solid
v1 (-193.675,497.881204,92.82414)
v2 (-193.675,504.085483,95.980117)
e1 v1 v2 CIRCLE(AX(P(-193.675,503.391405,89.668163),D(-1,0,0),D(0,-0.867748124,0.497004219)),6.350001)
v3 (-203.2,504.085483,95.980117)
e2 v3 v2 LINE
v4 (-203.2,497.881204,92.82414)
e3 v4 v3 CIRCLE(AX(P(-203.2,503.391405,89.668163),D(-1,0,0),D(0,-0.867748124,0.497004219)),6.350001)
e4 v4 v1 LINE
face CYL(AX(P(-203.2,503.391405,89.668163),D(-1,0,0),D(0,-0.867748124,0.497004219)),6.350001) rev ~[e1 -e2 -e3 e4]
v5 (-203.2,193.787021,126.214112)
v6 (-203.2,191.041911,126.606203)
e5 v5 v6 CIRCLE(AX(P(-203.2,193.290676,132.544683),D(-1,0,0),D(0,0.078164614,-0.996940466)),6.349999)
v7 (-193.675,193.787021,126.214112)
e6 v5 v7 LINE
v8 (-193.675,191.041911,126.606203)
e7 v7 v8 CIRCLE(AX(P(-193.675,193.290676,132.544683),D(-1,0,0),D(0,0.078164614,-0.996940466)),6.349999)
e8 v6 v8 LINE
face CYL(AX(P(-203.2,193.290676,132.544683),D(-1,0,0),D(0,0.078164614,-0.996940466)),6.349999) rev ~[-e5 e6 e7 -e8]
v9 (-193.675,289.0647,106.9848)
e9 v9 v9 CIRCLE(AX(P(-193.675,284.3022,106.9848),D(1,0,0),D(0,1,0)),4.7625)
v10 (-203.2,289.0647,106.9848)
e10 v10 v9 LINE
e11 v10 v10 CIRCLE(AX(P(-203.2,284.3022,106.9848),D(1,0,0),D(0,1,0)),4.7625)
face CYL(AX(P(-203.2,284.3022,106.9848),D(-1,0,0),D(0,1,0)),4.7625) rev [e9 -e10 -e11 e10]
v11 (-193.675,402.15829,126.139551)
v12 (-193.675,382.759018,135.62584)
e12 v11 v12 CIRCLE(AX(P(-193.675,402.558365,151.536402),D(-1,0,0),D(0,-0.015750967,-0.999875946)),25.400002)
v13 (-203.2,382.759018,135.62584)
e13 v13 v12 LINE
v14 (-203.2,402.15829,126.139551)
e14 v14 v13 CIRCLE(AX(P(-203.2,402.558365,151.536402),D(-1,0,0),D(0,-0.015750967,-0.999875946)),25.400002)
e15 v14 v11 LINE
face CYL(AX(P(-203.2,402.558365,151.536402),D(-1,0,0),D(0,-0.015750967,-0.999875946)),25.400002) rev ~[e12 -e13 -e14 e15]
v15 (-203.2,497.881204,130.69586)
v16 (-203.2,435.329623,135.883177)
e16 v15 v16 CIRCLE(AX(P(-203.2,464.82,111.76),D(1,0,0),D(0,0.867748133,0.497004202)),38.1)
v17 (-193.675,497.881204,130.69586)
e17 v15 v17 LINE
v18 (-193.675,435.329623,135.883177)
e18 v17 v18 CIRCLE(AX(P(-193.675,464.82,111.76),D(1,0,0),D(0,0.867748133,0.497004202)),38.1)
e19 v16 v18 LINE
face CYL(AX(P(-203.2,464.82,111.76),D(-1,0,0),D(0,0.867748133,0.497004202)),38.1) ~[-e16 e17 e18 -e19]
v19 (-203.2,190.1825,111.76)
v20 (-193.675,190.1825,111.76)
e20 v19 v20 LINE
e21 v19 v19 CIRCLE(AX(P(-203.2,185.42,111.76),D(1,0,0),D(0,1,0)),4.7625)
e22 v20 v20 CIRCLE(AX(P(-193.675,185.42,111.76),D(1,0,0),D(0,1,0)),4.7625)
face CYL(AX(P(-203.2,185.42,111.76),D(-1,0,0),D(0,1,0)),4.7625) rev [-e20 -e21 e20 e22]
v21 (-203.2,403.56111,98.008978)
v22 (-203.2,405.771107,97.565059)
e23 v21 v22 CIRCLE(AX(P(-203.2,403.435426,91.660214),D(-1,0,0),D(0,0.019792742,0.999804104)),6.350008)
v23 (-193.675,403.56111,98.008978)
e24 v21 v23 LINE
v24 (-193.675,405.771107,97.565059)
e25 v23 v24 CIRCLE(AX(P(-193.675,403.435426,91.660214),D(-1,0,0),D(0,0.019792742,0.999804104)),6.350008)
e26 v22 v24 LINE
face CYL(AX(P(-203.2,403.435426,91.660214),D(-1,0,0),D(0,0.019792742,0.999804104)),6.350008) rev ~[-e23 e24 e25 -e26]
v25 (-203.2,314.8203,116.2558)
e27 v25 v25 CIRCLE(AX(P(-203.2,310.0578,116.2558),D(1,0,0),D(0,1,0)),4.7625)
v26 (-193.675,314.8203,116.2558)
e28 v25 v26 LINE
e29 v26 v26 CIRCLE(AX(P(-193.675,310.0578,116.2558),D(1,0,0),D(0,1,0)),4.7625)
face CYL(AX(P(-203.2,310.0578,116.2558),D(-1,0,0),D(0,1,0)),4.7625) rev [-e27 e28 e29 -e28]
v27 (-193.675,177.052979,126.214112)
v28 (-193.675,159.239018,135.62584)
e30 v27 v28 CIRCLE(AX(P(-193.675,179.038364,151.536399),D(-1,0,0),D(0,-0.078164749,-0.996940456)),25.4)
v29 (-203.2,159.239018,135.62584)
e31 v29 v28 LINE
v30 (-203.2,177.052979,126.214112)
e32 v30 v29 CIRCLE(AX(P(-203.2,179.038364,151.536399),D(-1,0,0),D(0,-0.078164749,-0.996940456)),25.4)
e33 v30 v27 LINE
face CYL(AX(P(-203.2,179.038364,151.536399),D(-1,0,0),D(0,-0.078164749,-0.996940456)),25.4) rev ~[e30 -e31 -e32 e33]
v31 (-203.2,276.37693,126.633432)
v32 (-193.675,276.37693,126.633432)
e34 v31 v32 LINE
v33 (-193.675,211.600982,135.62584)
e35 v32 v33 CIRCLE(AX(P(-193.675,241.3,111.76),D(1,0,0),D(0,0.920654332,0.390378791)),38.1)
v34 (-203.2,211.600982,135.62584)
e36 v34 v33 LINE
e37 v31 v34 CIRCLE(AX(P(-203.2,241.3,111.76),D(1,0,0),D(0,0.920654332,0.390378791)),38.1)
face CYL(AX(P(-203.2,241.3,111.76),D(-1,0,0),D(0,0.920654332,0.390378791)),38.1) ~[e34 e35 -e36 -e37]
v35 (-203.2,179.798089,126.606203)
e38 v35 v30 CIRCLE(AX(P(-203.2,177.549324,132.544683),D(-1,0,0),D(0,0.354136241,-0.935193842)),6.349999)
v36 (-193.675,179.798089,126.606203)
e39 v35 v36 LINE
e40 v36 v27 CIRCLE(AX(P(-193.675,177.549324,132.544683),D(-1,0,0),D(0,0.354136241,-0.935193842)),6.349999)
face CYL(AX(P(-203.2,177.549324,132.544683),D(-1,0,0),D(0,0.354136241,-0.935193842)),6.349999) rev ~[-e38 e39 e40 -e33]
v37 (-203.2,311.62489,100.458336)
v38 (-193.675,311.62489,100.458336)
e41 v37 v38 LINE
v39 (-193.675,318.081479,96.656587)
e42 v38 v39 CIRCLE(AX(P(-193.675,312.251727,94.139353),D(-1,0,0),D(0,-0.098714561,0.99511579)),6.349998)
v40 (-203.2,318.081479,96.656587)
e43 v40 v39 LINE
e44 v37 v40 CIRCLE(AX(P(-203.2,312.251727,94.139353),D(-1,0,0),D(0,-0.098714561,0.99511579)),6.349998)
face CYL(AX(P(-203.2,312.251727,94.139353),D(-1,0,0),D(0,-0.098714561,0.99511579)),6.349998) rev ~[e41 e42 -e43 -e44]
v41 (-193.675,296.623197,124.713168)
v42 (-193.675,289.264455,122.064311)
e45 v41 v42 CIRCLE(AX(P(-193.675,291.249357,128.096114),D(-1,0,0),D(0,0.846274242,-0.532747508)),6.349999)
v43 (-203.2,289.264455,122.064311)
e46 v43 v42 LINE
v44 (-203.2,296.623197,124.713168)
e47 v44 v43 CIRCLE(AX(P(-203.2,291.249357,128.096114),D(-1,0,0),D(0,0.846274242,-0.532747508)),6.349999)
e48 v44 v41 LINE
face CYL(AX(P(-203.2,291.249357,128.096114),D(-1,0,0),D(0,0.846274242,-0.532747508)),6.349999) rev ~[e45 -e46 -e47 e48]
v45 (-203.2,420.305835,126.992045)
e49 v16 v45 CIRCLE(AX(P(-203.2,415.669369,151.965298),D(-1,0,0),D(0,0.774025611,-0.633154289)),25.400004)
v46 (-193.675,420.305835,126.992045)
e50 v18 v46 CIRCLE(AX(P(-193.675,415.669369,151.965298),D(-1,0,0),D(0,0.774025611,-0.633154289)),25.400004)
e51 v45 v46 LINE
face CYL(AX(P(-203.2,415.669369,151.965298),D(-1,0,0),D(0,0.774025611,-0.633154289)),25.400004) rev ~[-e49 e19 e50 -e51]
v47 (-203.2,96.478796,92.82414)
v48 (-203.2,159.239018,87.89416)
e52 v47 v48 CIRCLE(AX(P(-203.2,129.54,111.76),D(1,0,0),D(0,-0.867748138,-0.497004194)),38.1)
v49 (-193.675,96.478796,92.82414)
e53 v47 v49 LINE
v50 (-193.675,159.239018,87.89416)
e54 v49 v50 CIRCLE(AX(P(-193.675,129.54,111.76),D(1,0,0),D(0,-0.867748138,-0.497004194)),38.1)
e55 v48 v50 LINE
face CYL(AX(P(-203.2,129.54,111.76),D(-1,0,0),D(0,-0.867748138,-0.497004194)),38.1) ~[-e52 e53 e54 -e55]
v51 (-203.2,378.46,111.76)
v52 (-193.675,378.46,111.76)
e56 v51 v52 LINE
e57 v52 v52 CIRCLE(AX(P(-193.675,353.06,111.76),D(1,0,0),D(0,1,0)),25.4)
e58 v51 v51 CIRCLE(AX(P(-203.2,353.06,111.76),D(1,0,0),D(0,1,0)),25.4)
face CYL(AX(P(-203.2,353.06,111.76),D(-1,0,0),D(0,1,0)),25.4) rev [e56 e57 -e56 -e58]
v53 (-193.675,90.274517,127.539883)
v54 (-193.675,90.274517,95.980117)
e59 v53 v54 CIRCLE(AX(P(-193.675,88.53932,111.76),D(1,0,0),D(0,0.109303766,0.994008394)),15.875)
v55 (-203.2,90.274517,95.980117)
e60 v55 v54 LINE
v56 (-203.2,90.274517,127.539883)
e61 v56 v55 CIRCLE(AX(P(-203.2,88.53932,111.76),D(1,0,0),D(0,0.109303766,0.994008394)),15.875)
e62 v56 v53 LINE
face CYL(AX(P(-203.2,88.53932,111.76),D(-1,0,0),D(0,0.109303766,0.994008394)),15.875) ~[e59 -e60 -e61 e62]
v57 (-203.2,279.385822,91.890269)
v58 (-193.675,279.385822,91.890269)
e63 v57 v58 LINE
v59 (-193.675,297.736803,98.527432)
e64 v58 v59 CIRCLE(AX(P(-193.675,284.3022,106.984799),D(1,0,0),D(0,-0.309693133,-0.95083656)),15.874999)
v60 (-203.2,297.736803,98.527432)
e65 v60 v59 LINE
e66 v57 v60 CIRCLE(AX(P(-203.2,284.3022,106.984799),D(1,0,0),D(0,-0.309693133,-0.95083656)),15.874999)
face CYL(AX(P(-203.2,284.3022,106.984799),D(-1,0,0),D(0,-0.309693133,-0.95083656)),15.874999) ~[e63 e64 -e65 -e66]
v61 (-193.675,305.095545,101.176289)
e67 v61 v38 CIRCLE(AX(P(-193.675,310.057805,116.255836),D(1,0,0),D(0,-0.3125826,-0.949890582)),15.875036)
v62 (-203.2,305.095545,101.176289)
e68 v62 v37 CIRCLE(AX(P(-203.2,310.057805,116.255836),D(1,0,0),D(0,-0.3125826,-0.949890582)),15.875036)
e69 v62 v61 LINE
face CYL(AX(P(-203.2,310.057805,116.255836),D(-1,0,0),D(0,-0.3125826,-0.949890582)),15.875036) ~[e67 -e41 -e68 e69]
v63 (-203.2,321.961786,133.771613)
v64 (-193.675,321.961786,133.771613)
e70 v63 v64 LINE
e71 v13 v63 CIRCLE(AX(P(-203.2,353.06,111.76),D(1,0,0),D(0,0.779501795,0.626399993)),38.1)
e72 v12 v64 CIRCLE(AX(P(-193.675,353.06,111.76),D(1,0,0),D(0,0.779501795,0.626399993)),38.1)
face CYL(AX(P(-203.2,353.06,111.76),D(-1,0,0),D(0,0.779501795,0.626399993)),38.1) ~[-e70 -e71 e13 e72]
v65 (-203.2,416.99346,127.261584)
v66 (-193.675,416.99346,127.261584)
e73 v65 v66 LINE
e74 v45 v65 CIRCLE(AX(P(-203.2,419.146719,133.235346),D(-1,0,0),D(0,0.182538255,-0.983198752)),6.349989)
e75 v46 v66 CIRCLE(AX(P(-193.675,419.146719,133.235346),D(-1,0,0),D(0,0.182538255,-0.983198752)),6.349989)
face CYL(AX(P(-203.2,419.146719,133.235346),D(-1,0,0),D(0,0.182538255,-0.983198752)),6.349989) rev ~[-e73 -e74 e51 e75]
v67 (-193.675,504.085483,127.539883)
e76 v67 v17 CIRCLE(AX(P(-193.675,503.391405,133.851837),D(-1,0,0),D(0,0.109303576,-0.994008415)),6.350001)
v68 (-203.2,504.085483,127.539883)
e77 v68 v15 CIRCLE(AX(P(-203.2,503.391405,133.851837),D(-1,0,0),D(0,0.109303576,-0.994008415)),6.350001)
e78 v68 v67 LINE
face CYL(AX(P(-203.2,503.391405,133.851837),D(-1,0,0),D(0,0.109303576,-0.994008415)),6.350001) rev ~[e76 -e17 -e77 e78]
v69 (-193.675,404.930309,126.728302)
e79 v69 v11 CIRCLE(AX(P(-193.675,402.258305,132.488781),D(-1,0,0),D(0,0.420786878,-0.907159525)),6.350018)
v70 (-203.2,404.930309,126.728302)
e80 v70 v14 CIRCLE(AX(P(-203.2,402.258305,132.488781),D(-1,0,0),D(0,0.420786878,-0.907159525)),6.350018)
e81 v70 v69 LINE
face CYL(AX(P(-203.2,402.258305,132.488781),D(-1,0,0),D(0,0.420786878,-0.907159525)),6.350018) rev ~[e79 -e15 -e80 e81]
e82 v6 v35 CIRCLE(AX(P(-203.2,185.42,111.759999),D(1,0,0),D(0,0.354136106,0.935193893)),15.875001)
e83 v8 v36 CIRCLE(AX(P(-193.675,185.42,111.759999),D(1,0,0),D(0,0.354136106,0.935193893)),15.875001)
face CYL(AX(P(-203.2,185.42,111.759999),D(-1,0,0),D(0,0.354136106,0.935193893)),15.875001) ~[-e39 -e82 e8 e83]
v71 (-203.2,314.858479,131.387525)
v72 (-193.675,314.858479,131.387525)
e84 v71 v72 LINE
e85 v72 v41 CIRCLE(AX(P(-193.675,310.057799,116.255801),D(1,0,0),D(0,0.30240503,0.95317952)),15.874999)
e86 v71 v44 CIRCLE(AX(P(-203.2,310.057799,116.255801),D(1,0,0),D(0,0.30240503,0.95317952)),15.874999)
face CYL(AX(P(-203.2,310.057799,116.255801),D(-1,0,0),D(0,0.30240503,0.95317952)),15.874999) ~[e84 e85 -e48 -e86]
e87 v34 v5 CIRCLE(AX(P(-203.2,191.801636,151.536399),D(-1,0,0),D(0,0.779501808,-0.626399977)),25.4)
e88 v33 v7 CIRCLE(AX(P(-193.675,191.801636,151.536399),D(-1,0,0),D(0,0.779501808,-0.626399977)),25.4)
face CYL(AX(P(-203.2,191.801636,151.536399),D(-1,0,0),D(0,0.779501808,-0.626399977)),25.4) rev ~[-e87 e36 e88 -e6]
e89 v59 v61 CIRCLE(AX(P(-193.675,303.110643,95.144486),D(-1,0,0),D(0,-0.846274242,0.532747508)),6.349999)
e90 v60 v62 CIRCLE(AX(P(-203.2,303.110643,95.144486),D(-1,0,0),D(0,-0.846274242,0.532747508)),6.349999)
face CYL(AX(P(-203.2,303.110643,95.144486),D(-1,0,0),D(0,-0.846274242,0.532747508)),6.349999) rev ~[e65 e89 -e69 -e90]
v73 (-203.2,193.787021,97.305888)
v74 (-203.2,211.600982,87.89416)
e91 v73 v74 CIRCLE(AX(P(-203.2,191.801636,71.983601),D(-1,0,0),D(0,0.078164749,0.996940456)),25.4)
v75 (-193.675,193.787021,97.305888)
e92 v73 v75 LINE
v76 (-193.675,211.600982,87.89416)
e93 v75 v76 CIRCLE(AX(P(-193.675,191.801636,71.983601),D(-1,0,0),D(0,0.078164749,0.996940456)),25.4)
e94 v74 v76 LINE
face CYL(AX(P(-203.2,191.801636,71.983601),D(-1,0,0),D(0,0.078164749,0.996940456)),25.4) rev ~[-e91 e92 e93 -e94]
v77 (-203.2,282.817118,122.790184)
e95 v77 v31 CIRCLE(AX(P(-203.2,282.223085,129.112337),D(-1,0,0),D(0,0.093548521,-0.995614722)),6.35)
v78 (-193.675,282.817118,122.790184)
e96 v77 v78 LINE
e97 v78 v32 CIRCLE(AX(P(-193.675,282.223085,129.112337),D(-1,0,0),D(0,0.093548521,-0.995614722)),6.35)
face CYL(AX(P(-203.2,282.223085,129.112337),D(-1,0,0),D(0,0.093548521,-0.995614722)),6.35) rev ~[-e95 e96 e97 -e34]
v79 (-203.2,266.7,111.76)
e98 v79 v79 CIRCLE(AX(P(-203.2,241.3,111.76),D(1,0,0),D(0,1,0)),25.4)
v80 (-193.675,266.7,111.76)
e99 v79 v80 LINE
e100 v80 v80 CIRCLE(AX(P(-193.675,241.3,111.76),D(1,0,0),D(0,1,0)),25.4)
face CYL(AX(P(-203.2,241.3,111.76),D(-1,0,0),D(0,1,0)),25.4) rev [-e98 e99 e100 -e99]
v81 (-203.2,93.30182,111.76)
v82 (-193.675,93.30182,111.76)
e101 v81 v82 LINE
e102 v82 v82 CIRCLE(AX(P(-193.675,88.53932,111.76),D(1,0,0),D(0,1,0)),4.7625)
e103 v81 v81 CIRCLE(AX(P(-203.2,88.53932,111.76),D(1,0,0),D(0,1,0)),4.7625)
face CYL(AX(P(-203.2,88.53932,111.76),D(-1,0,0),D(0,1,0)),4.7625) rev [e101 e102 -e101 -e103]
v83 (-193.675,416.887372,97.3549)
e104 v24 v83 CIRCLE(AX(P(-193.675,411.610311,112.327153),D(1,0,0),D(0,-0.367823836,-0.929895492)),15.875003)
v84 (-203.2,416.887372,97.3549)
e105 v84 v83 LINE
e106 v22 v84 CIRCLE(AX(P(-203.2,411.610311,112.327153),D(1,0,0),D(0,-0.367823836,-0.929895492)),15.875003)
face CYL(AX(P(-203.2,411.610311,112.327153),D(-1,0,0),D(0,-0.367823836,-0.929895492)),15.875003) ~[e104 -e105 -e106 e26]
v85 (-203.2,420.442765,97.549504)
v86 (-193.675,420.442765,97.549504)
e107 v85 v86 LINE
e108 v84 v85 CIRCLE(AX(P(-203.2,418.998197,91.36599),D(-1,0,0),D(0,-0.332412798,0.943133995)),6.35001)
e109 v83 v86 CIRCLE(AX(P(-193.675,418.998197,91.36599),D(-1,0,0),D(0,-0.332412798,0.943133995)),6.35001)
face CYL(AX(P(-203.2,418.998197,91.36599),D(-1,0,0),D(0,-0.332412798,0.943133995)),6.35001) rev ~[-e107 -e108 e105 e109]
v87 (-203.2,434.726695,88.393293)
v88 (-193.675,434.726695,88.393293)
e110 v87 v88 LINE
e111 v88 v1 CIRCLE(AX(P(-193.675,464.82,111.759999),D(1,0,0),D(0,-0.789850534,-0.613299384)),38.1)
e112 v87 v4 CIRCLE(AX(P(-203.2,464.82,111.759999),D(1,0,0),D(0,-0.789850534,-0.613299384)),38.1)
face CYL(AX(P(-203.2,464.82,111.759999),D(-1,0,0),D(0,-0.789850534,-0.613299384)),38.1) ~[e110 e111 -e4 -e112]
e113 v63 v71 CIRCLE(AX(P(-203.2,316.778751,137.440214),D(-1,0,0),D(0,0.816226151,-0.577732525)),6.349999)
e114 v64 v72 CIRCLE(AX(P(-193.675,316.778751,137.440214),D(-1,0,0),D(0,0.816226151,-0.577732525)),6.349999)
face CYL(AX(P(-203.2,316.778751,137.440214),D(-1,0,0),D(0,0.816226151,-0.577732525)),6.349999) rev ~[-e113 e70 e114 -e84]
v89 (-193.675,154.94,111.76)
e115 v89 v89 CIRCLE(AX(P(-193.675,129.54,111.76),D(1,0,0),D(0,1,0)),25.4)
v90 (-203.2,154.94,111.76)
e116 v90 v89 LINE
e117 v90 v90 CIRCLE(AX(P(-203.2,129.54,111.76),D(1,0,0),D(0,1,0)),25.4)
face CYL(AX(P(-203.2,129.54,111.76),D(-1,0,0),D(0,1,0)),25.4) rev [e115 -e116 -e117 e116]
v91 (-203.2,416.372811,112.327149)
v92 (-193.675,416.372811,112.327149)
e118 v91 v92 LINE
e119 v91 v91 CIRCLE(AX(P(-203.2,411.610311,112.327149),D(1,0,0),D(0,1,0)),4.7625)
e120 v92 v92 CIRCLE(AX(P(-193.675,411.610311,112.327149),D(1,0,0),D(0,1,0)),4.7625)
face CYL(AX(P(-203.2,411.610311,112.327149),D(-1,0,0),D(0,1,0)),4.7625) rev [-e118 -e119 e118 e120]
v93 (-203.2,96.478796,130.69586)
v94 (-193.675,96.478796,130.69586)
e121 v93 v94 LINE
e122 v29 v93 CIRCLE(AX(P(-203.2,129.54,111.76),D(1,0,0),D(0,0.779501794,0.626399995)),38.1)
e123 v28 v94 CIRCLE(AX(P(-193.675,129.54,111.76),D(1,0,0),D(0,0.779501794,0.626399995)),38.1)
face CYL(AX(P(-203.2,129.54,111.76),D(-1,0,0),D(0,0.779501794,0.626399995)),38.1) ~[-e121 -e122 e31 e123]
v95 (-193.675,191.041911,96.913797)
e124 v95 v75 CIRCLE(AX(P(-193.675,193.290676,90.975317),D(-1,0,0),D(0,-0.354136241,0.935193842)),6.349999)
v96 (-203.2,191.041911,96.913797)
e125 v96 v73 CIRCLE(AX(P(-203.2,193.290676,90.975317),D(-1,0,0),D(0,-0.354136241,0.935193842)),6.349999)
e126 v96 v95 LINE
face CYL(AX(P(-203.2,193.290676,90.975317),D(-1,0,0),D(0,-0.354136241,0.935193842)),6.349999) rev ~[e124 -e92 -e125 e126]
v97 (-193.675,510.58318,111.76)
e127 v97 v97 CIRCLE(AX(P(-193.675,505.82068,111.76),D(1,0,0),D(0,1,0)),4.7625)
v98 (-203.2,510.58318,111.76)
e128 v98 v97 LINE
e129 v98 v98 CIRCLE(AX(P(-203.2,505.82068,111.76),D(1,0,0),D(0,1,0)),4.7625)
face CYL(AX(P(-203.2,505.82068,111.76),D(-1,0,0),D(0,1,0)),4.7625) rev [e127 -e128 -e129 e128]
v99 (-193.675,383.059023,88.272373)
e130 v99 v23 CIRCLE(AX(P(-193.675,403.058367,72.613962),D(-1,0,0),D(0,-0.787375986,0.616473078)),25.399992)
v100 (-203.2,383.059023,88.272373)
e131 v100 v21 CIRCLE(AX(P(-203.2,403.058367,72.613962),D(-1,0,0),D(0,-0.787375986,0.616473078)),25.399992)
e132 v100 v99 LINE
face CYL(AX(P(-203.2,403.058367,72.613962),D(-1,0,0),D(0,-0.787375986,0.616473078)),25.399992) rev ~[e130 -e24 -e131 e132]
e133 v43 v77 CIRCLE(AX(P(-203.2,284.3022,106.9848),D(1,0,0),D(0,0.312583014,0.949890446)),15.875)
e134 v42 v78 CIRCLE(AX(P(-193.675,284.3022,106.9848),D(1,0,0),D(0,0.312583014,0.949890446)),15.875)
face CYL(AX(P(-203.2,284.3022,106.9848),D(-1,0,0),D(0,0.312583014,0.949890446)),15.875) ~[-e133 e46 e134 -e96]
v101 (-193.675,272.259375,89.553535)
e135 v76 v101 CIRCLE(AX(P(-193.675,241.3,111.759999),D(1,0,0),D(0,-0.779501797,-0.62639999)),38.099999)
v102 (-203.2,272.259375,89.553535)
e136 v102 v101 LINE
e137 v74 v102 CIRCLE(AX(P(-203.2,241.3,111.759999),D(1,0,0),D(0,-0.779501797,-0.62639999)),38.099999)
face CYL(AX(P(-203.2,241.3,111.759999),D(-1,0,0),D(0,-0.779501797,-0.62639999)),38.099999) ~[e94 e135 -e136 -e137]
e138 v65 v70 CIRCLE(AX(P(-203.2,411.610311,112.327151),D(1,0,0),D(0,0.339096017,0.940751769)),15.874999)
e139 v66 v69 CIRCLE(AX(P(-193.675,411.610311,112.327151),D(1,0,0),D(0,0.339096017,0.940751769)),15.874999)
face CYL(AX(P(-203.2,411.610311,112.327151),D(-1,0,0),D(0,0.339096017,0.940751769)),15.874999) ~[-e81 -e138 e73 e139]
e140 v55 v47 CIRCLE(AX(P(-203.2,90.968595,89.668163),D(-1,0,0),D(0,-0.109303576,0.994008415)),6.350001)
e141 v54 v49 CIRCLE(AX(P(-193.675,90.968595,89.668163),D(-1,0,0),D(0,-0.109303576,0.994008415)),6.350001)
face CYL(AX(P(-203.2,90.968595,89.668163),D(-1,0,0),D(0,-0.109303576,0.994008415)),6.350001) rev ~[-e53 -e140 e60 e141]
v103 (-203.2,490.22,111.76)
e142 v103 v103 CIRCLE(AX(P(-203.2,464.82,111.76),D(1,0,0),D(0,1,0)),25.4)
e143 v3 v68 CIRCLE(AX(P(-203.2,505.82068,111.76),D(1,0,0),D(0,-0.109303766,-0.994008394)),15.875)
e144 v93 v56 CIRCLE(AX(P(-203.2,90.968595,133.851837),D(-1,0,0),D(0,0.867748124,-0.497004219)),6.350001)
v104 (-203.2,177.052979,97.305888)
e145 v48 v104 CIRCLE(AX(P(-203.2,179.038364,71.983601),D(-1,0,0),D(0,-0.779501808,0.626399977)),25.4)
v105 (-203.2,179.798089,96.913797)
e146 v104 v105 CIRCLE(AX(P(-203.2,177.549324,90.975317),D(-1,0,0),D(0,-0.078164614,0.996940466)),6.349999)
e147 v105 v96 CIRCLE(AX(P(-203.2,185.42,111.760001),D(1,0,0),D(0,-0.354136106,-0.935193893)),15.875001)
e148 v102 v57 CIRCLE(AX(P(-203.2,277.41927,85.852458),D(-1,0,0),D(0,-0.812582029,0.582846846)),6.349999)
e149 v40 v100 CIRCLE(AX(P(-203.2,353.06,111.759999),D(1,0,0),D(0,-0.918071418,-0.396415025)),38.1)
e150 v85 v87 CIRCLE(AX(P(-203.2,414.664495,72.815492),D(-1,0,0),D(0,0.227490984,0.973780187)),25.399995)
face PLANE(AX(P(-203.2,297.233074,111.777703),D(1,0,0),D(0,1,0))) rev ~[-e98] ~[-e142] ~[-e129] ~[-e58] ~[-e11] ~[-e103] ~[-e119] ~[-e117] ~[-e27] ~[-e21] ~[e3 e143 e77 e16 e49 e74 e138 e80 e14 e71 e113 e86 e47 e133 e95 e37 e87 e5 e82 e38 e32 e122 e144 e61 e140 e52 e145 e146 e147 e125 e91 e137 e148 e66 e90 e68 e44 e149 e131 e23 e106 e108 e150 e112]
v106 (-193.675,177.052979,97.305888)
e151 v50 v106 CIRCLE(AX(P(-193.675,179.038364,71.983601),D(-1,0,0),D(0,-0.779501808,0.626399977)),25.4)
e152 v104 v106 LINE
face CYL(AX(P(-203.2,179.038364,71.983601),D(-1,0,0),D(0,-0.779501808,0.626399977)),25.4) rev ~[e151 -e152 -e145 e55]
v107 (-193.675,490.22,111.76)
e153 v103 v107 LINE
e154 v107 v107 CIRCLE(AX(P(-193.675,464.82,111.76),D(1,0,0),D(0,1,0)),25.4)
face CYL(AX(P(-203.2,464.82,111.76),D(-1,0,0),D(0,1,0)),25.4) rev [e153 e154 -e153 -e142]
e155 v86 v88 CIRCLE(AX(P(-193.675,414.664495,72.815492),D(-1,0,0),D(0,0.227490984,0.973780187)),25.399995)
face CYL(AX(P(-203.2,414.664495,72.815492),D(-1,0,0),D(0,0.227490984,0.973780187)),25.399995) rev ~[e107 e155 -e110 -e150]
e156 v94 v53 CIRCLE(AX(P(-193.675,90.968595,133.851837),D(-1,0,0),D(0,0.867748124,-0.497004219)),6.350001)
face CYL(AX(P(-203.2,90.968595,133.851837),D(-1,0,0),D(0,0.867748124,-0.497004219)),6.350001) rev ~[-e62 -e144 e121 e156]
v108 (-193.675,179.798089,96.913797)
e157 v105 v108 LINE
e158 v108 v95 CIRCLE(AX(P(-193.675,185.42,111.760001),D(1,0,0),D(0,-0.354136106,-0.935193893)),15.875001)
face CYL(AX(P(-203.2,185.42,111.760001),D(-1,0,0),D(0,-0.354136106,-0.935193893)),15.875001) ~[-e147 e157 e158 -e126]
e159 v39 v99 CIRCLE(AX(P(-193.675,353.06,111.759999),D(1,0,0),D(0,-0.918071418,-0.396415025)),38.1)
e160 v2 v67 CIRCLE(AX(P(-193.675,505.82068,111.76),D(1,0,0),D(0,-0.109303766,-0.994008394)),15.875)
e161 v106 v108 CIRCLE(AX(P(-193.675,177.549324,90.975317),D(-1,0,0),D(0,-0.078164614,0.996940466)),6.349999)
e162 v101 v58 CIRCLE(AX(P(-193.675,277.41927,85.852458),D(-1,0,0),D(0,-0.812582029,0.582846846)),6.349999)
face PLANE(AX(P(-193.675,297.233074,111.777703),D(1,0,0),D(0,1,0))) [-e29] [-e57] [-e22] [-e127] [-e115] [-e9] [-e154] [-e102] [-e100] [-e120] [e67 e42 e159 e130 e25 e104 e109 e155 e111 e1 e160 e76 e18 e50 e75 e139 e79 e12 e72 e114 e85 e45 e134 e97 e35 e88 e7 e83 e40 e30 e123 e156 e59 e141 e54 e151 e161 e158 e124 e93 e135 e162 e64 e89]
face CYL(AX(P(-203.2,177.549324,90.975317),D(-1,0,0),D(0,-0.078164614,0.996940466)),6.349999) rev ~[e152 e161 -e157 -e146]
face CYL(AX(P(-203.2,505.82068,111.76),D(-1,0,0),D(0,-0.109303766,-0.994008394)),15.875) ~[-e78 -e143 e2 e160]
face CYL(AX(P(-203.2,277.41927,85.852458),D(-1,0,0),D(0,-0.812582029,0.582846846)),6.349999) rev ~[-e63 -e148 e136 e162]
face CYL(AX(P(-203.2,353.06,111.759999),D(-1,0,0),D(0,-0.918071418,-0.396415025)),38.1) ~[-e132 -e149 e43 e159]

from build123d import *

# Parameters (mm, degrees)
F3_R     = 4.7625
F3_R_2   = 31.75
F3_R_3   = 25.4
F8_DEPTH = 9.525


with BuildPart() as f8:
    # F3 (on offset) → F8 (new body)
    with BuildSketch(Plane.YZ.offset(-203.2)):
        with BuildLine():
            ThreePointArc((504.085483, 127.539883), (500.512376, 128.192005), (497.881204, 130.69586))
            ThreePointArc((497.881204, 130.69586), (467.968772, 149.729662), (435.329623, 135.883177))
            ThreePointArc((435.329623, 135.883177), (428.605586, 130.10633), (420.305835, 126.992045))
            ThreePointArc((420.305835, 126.992045), (418.631702, 126.906277), (416.99346, 127.261584))
            ThreePointArc((416.99346, 127.261584), (410.909202, 128.18666), (404.930309, 126.728302))
            ThreePointArc((404.930309, 126.728302), (403.577562, 126.277317), (402.15829, 126.139551))
            ThreePointArc((402.15829, 126.139551), (391.400337, 128.718459), (382.759018, 135.62584))
            ThreePointArc((382.759018, 135.62584), (351.898546, 149.842293), (321.961786, 133.771613))
            ThreePointArc((321.961786, 133.771613), (318.79924, 131.420238), (314.858479, 131.387525))
            ThreePointArc((314.858479, 131.387525), (304.601343, 131.163607), (296.623197, 124.713168))
            ThreePointArc((296.623197, 124.713168), (293.400016, 122.121405), (289.264455, 122.064311))
            ThreePointArc((289.264455, 122.064311), (286.078264, 122.760136), (282.817118, 122.790184))
            ThreePointArc((282.817118, 122.790184), (278.969036, 123.659479), (276.37693, 126.633432))
            ThreePointArc((276.37693, 126.633432), (246.538925, 149.498093), (211.600982, 135.62584))
            ThreePointArc((211.600982, 135.62584), (203.667081, 129.078189), (193.787021, 126.214112))
            ThreePointArc((193.787021, 126.214112), (192.392802, 126.258483), (191.041911, 126.606203))
            ThreePointArc((191.041911, 126.606203), (185.42, 127.635), (179.798089, 126.606203))
            ThreePointArc((179.798089, 126.606203), (178.447198, 126.258483), (177.052979, 126.214112))
            ThreePointArc((177.052979, 126.214112), (167.172919, 129.078189), (159.239018, 135.62584))
            ThreePointArc((159.239018, 135.62584), (126.556336, 149.742993), (96.478796, 130.69586))
            ThreePointArc((96.478796, 130.69586), (93.847624, 128.192005), (90.274517, 127.539883))
            ThreePointArc((90.274517, 127.539883), (72.66432, 111.76), (90.274517, 95.980117))
            ThreePointArc((90.274517, 95.980117), (93.847624, 95.327995), (96.478796, 92.82414))
            ThreePointArc((96.478796, 92.82414), (126.556336, 73.777007), (159.239018, 87.89416))
            ThreePointArc((159.239018, 87.89416), (167.172919, 94.441811), (177.052979, 97.305888))
            ThreePointArc((177.052979, 97.305888), (178.447198, 97.261517), (179.798089, 96.913797))
            ThreePointArc((179.798089, 96.913797), (185.42, 95.885), (191.041911, 96.913797))
            ThreePointArc((191.041911, 96.913797), (192.392802, 97.261517), (193.787021, 97.305888))
            ThreePointArc((193.787021, 97.305888), (203.667081, 94.441811), (211.600982, 87.89416))
            ThreePointArc((211.600982, 87.89416), (242.341876, 73.674248), (272.259375, 89.553535))
            ThreePointArc((272.259375, 89.553535), (275.440775, 91.886366), (279.385822, 91.890269))
            ThreePointArc((279.385822, 91.890269), (289.701554, 92.056216), (297.736803, 98.527432))
            ThreePointArc((297.736803, 98.527432), (300.959984, 101.119195), (305.095545, 101.176289))
            ThreePointArc((305.095545, 101.176289), (308.322678, 100.475909), (311.62489, 100.458336))
            ThreePointArc((311.62489, 100.458336), (315.473668, 99.611242), (318.081479, 96.656587))
            ThreePointArc((318.081479, 96.656587), (348.184283, 73.973264), (383.059023, 88.272373))
            ThreePointArc((383.059023, 88.272373), (392.162049, 95.558021), (403.56111, 98.008978))
            ThreePointArc((403.56111, 98.008978), (404.685964, 97.885867), (405.771107, 97.565059))
            ThreePointArc((405.771107, 97.565059), (411.310239, 96.454986), (416.887372, 97.3549))
            ThreePointArc((416.887372, 97.3549), (418.651149, 97.706509), (420.442765, 97.549504))
            ThreePointArc((420.442765, 97.549504), (428.371848, 94.199323), (434.726695, 88.393293))
            ThreePointArc((434.726695, 88.393293), (467.486497, 73.753424), (497.881204, 92.82414))
            ThreePointArc((497.881204, 92.82414), (500.512376, 95.327995), (504.085483, 95.980117))
            ThreePointArc((504.085483, 95.980117), (521.69568, 111.76), (504.085483, 127.539883))
        make_face()
        with Locations((88.53932, 111.76)):
            Circle(F3_R, mode=Mode.SUBTRACT)
        with Locations((129.54, 111.76)):
            Circle(F3_R_2, mode=Mode.SUBTRACT)
        with Locations((185.42, 111.76)):
            Circle(F3_R, mode=Mode.SUBTRACT)
        with Locations((284.3022, 106.9848)):
            Circle(F3_R, mode=Mode.SUBTRACT)
        with Locations((241.3, 111.76)):
            Circle(F3_R_2, mode=Mode.SUBTRACT)
        with Locations((353.06, 111.76)):
            Circle(F3_R_2, mode=Mode.SUBTRACT)
        with Locations((464.82, 111.76)):
            Circle(F3_R_2, mode=Mode.SUBTRACT)
        with Locations((505.82068, 111.76)):
            Circle(F3_R, mode=Mode.SUBTRACT)
        with Locations((310.0578, 116.2558)):
            Circle(F3_R, mode=Mode.SUBTRACT)
        with Locations((411.610311, 112.327149)):
            Circle(F3_R, mode=Mode.SUBTRACT)
        with Locations((129.54, 111.76)):
            Circle(F3_R_2)
        with Locations((129.54, 111.76)):
            Circle(F3_R_3, mode=Mode.SUBTRACT)
        with Locations((241.3, 111.76)):
            Circle(F3_R_2)
        with Locations((241.3, 111.76)):
            Circle(F3_R_3, mode=Mode.SUBTRACT)
        with Locations((353.06, 111.76)):
            Circle(F3_R_2)
        with Locations((353.06, 111.76)):
            Circle(F3_R_3, mode=Mode.SUBTRACT)
        with Locations((464.82, 111.76)):
            Circle(F3_R_2)
        with Locations((464.82, 111.76)):
            Circle(F3_R_3, mode=Mode.SUBTRACT)
    extrude(amount=F8_DEPTH)


solid = f8.part
